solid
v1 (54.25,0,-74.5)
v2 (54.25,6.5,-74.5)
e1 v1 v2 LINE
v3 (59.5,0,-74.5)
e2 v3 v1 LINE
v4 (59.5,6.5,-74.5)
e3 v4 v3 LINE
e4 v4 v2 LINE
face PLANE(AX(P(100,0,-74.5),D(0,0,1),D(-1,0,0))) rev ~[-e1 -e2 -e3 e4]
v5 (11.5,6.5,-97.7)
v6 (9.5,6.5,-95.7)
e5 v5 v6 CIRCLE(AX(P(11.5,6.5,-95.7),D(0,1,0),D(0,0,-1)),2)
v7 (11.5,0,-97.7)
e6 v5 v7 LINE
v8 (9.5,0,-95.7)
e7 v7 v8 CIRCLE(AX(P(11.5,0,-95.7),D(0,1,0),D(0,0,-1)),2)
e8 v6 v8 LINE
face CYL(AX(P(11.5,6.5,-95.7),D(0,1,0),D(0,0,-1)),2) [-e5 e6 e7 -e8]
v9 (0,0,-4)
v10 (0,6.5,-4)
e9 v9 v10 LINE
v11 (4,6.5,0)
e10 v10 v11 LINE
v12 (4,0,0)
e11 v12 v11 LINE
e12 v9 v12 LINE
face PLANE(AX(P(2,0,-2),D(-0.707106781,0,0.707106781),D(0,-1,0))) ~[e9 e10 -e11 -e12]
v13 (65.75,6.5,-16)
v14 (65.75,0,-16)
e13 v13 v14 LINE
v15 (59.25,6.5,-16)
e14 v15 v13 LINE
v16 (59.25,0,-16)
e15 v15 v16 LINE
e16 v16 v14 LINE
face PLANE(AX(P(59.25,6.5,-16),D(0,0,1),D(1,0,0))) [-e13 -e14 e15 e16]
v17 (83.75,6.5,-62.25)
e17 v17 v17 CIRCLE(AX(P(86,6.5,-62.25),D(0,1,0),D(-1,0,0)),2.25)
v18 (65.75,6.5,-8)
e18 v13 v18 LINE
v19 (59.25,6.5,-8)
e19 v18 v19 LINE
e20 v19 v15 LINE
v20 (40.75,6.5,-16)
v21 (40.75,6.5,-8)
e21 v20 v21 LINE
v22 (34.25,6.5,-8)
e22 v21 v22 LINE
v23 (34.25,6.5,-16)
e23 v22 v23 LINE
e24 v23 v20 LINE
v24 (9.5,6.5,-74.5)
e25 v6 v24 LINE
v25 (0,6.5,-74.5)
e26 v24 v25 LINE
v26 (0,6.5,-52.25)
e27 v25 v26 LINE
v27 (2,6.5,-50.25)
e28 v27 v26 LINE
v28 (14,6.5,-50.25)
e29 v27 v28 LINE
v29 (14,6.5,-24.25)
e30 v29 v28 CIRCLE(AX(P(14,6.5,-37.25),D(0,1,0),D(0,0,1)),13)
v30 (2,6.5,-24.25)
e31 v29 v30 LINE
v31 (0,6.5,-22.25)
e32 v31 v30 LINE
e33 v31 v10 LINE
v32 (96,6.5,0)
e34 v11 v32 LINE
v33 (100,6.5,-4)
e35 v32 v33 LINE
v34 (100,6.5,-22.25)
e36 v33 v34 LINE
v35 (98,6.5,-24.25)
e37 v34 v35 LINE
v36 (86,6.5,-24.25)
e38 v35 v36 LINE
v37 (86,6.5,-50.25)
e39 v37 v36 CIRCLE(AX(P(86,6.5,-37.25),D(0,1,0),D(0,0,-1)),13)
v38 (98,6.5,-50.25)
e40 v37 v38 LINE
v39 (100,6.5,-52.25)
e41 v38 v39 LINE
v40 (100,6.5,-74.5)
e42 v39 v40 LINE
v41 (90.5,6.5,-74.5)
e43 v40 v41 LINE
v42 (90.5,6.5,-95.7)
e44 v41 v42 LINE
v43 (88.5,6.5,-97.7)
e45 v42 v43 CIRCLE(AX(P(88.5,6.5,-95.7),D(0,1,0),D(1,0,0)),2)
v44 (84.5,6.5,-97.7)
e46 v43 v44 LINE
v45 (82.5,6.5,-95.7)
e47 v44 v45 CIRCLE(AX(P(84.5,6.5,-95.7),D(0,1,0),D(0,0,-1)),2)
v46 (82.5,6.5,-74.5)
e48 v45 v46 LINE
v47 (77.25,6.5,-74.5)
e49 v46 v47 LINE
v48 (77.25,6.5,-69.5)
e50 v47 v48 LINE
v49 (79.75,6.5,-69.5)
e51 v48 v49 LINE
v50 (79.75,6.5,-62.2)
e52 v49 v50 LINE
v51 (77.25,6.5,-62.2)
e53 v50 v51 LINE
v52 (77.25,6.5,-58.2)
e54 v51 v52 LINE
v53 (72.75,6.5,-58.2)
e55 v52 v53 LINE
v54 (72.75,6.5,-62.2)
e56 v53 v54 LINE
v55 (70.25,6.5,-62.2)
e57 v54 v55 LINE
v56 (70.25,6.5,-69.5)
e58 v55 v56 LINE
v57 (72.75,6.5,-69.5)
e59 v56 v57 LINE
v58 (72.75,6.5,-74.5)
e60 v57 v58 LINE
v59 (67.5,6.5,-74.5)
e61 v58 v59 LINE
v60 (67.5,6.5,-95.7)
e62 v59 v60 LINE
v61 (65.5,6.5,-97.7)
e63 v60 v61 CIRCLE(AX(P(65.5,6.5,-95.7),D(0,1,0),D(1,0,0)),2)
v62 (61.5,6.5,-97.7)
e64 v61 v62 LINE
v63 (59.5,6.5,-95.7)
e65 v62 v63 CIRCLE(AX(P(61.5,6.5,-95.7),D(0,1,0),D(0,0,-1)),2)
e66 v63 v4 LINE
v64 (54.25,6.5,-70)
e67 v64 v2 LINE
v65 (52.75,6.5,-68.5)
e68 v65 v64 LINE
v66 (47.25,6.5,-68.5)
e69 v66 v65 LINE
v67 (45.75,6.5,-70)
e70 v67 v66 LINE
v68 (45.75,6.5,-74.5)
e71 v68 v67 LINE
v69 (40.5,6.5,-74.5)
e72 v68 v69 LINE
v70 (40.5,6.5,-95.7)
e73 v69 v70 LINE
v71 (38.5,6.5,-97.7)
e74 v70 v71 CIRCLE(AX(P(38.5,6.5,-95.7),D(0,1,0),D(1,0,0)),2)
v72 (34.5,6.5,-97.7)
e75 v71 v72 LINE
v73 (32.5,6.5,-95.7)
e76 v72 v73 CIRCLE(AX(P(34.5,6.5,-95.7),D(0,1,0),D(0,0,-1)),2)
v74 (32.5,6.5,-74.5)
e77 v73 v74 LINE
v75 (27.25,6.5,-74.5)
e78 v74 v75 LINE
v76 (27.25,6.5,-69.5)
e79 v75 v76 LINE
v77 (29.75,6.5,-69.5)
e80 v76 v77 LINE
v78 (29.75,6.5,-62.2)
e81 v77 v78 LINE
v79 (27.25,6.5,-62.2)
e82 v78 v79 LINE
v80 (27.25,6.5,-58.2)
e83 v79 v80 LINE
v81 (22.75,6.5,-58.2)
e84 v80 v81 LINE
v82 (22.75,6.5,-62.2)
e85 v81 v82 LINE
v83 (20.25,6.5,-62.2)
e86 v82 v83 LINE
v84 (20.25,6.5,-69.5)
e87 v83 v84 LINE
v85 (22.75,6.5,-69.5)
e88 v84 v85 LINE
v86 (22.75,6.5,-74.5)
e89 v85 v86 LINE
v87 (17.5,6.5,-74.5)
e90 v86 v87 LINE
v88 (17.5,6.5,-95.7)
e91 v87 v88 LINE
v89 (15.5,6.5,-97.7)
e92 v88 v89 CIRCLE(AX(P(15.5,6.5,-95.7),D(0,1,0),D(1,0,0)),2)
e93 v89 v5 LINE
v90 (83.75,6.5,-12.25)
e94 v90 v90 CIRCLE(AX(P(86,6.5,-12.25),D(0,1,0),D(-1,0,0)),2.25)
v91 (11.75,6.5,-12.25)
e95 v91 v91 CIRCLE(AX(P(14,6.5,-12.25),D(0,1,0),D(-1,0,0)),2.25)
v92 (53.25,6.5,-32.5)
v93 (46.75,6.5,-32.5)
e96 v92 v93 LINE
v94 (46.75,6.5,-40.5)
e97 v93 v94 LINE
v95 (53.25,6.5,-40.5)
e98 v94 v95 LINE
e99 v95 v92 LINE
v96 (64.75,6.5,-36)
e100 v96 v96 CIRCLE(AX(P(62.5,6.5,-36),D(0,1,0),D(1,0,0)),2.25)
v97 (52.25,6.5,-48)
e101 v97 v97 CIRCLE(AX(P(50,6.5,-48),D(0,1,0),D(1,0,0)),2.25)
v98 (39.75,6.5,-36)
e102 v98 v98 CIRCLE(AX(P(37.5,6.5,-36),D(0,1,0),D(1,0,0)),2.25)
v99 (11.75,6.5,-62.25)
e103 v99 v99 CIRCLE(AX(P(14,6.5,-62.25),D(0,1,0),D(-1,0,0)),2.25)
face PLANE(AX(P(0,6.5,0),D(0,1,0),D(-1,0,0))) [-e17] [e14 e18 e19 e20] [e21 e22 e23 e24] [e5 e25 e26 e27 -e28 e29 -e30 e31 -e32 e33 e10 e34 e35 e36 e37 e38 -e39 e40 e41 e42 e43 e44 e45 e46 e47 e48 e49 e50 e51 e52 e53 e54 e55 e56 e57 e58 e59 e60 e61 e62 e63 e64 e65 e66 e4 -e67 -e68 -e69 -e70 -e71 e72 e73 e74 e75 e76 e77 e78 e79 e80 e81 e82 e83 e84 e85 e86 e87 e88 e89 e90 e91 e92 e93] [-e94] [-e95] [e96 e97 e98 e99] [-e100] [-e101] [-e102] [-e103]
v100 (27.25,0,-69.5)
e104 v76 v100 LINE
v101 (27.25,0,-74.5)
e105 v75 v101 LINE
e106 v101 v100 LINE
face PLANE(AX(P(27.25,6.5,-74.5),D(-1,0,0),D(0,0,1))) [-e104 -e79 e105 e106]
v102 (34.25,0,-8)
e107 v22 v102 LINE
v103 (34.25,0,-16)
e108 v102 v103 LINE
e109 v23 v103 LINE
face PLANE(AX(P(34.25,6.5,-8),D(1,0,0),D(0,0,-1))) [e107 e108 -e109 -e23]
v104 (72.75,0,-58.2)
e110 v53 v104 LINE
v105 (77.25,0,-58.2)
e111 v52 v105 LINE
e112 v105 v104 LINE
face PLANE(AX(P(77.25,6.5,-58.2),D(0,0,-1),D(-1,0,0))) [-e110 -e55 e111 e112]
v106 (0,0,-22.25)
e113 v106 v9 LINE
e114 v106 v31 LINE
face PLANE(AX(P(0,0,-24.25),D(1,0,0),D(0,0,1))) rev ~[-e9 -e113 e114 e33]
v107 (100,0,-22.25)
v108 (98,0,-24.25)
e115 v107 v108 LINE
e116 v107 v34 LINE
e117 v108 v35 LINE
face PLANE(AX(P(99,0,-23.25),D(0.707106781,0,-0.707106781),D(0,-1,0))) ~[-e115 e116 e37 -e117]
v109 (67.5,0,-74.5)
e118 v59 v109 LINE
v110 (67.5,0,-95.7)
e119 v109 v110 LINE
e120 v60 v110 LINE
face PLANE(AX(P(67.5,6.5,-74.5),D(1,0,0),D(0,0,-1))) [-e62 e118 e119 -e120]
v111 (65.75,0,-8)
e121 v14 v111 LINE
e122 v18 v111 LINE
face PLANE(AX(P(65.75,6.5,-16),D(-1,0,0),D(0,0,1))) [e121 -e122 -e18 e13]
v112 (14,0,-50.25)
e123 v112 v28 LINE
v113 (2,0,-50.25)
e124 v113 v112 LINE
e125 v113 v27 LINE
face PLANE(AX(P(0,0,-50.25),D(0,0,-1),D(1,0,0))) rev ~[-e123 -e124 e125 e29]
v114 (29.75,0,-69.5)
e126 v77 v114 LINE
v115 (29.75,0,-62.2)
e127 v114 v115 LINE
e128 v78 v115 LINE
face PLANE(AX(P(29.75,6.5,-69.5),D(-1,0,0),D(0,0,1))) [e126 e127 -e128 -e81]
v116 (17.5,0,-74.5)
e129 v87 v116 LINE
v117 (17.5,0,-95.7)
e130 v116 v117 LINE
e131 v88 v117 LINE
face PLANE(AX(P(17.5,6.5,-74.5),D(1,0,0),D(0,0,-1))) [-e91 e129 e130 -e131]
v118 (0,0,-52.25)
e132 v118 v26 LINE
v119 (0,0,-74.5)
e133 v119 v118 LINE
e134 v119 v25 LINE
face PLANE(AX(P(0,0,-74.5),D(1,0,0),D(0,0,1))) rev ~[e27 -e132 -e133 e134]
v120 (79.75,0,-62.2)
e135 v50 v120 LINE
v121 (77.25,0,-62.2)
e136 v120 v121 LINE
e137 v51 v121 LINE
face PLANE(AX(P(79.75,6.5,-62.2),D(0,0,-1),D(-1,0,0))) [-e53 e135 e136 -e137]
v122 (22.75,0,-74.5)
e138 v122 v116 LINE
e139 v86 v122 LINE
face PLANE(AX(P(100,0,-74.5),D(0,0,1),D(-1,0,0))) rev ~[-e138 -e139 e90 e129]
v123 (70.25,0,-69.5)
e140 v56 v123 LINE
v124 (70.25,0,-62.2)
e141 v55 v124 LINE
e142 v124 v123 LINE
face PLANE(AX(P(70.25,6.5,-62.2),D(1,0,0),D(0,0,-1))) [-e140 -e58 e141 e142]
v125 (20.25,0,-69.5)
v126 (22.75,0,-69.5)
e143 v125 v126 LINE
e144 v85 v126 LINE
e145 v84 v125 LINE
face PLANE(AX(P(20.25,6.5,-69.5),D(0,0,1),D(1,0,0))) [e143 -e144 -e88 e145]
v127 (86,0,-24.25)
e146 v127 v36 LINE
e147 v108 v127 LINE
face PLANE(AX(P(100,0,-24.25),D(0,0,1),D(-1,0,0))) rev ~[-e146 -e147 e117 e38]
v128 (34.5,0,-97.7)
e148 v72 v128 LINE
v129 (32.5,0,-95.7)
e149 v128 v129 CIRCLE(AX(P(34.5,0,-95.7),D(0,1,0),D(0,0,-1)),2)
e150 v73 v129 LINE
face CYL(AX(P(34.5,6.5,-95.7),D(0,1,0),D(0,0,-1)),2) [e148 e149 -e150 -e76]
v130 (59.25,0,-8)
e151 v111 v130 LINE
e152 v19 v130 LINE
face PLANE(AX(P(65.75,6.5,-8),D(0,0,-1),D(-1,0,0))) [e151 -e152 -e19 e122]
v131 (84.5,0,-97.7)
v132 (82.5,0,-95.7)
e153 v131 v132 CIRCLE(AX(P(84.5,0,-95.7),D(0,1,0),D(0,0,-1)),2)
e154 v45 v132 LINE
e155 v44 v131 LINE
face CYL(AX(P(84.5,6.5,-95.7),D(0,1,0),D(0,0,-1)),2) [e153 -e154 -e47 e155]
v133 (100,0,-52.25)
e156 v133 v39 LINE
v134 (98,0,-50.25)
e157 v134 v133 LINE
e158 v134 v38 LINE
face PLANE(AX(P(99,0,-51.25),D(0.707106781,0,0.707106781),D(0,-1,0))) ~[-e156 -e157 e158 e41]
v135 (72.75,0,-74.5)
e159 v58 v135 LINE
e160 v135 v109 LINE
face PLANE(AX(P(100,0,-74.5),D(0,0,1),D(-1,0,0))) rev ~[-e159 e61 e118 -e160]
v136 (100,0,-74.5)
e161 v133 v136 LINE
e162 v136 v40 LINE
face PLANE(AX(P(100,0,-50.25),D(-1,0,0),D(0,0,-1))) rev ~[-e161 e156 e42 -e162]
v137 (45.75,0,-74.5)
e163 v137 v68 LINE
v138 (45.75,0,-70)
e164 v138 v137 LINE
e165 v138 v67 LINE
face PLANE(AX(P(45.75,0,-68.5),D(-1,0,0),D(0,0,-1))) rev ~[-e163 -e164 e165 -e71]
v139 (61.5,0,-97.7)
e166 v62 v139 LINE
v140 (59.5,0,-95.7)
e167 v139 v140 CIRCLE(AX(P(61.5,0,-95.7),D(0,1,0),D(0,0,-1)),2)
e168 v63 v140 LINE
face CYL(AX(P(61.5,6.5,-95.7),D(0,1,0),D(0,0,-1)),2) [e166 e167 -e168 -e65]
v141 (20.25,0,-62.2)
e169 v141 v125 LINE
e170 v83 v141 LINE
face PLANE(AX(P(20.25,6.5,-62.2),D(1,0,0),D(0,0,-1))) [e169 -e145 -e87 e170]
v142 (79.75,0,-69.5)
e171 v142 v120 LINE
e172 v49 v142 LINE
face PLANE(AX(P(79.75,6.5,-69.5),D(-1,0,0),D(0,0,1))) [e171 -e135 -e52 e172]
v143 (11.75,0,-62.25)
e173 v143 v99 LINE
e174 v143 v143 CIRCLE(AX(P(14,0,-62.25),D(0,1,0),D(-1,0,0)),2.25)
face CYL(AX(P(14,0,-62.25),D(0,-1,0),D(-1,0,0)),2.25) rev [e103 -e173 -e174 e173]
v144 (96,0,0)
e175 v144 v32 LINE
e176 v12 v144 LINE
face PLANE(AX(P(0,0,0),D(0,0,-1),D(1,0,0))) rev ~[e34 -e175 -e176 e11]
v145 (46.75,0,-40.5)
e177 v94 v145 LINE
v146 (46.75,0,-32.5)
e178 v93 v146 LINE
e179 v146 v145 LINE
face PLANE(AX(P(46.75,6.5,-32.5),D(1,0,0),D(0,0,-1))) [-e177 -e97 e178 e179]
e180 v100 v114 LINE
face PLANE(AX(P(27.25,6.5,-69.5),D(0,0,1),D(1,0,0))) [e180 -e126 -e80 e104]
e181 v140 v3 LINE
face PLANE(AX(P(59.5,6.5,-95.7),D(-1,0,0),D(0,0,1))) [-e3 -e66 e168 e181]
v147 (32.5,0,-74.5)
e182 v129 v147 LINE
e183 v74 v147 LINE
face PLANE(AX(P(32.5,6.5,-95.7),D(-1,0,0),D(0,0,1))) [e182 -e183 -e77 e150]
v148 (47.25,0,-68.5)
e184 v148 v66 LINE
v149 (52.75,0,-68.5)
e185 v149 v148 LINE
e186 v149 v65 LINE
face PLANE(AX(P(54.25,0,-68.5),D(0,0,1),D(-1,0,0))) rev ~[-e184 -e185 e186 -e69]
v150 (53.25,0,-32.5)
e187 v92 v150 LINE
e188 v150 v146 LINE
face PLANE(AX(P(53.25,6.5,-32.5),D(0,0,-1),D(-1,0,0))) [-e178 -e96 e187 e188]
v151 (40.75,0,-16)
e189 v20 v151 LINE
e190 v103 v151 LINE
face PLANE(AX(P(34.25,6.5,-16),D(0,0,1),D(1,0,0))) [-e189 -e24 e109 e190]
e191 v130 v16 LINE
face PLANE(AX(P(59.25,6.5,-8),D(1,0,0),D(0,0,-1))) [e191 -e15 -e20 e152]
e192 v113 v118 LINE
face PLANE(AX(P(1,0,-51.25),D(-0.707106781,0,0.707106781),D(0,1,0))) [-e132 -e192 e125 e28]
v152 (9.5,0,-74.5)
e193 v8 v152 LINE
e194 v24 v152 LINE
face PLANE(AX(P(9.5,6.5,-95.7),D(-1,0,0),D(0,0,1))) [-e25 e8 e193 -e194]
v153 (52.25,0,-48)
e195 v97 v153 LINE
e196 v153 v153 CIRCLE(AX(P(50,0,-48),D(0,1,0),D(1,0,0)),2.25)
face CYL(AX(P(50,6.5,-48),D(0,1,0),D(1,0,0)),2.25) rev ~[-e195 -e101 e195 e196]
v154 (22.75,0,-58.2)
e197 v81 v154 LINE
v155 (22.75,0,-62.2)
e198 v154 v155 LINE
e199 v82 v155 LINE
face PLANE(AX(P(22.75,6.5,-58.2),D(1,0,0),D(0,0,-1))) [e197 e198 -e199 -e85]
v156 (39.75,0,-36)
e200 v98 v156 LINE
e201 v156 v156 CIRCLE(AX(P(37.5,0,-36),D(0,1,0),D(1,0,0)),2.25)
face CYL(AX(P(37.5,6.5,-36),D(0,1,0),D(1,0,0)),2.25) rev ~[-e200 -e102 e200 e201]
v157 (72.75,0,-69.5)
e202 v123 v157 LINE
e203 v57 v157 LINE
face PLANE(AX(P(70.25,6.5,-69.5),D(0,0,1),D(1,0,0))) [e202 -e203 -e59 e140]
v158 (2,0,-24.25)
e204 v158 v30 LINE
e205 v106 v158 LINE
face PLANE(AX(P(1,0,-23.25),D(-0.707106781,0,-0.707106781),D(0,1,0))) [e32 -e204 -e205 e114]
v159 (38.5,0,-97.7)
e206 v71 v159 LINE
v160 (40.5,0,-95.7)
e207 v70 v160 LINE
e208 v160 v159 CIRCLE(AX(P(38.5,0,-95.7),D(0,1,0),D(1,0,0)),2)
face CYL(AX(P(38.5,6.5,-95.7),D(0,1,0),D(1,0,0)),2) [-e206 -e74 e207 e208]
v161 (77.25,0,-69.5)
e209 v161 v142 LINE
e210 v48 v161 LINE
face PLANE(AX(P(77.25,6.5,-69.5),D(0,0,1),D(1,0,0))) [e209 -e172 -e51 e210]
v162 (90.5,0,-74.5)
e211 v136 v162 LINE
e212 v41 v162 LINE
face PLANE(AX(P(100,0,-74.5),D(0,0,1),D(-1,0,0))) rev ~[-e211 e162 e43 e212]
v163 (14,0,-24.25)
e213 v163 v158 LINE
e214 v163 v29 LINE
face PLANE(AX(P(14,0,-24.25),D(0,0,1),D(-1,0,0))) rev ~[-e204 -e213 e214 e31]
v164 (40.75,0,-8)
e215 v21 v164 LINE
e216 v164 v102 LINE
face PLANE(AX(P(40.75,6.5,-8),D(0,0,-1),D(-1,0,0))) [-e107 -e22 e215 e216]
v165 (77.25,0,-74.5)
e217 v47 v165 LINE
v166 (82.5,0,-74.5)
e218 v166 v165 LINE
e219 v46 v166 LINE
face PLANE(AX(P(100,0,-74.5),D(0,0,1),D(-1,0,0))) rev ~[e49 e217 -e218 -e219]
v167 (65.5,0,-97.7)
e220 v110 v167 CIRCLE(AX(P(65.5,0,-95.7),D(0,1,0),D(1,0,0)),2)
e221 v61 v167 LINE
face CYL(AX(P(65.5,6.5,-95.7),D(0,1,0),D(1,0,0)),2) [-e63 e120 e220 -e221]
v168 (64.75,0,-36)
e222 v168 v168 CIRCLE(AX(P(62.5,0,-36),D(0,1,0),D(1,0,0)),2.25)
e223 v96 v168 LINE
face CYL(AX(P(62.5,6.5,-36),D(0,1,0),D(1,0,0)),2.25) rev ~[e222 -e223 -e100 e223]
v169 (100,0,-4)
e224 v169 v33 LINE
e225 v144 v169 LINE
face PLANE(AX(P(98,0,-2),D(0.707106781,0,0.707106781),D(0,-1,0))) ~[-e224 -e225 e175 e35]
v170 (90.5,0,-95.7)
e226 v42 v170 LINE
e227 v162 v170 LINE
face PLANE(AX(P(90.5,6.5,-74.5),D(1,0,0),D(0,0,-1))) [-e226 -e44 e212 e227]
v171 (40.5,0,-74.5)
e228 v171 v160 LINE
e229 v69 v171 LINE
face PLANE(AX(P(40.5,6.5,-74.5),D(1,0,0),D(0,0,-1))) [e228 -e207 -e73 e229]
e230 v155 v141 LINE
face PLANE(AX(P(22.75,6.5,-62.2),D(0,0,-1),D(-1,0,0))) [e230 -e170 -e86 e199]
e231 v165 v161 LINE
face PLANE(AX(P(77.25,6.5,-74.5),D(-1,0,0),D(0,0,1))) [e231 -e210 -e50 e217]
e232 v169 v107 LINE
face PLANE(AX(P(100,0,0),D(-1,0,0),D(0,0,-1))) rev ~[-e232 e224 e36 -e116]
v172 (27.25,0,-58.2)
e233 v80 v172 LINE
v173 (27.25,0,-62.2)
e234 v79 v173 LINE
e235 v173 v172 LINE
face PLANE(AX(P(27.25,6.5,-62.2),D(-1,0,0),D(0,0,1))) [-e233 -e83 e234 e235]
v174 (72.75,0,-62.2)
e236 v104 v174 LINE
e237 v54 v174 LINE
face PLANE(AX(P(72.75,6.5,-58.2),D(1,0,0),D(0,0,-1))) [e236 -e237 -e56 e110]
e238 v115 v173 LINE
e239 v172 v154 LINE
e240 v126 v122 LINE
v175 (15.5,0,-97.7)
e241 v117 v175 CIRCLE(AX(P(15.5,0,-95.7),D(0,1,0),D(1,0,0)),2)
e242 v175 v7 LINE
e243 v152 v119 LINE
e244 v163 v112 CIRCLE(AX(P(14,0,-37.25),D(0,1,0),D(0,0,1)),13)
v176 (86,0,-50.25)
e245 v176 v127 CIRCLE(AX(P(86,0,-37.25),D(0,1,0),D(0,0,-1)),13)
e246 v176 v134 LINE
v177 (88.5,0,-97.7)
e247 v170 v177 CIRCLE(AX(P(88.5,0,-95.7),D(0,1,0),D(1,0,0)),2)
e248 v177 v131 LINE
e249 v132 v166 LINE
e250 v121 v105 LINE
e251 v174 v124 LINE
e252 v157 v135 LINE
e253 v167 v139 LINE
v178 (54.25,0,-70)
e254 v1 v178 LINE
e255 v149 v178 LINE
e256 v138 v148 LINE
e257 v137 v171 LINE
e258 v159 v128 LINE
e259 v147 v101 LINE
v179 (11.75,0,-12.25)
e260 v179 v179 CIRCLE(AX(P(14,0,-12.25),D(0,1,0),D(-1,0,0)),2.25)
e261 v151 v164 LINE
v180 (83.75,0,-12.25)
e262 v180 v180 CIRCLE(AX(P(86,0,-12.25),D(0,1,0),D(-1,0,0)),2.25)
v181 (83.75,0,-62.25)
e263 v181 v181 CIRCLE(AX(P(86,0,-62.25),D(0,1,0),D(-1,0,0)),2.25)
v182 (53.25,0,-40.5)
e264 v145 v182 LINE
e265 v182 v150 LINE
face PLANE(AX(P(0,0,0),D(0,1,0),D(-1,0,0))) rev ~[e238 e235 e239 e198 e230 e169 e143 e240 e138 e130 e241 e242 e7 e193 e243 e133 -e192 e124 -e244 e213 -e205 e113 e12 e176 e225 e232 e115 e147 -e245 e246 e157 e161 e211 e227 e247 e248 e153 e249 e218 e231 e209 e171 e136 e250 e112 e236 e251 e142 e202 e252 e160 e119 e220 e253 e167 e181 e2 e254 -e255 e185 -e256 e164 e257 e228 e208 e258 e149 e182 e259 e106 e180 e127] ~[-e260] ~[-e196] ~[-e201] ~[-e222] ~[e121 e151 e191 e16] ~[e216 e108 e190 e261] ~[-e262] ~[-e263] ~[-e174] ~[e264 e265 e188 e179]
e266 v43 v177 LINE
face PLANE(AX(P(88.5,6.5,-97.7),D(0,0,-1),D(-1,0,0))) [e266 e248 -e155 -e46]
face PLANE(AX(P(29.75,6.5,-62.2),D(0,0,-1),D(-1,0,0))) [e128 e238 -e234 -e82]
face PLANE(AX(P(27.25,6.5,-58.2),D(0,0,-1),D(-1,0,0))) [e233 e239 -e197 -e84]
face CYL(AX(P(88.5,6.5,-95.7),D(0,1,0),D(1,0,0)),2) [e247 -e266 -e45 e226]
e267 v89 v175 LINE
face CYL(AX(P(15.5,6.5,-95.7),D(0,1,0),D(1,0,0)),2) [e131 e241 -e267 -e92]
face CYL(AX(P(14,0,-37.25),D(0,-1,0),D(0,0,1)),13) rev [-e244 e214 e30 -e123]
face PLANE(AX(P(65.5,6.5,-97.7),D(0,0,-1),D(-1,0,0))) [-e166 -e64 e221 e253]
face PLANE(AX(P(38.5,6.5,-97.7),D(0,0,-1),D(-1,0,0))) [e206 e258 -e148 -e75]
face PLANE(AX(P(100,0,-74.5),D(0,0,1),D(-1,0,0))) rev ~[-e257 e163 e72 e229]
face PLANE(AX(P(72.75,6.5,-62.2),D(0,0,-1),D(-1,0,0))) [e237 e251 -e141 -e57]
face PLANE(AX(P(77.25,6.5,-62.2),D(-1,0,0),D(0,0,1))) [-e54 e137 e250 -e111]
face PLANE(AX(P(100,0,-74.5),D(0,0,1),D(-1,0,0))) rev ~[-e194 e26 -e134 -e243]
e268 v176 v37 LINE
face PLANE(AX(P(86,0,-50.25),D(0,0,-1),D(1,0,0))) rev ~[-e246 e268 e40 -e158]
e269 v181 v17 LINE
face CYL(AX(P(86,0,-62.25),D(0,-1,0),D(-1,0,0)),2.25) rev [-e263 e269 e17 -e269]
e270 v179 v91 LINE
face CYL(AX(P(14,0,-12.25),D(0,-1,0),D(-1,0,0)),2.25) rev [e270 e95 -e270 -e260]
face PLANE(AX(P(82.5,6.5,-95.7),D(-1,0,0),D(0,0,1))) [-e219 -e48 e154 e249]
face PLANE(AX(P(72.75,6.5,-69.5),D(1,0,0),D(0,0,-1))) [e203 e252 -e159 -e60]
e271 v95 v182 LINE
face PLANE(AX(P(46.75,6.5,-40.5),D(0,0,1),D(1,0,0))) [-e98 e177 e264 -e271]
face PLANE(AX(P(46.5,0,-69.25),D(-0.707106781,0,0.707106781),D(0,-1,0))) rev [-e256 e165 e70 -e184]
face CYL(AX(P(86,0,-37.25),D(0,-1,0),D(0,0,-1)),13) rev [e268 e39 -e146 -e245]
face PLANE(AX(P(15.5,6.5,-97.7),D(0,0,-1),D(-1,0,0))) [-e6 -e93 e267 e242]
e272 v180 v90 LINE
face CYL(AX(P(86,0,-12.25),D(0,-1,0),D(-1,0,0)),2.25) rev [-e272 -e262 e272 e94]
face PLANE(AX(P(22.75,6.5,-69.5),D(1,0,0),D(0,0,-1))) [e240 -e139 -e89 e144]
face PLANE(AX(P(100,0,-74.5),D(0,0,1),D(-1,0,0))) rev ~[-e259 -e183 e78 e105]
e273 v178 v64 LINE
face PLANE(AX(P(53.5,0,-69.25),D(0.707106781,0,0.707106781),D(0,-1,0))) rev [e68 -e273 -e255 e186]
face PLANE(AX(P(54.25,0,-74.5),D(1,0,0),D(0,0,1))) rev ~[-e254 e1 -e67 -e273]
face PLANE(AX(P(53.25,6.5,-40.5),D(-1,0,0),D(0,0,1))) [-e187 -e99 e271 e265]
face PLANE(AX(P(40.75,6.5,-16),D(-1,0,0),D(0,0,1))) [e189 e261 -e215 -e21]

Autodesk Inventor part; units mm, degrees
ref_plane "YZ Plane" through (0, 0, 0) normal (1, 0, 0) x (0, 1, 0)
ref_plane "XZ Plane" through (0, 0, 0) normal (0, 1, 0) x (-1, 0, 0)
ref_plane "XY Plane" through (0, 0, 0) normal (0, 0, 1) x (1, 0, 0)
sketch "Sketch1" plane through (0, 0, 0) normal (0, 1, 0) x (-1, 0, 0)
  line L0 (0, 0) -> (-100, 0)
  line L1 (-100, 0) -> (-100, -24.25)
  line L2 (-100, -24.25) -> (-86, -24.25)
  arc A0 (-86, -50.25) -> (-86, -24.25) centre (-86, -37.25) ccw
  line L3 (-86, -50.25) -> (-100, -50.25)
  line L4 (-100, -50.25) -> (-100, -74.5)
  line L5 (-100, -74.5) -> (0, -74.5)
  line L6 (0, -74.5) -> (0, -50.25)
  line L7 (0, -50.25) -> (-14, -50.25)
  arc A1 (-14, -24.25) -> (-14, -50.25) centre (-14, -37.25) ccw
  line L8 (-14, -24.25) -> (0, -24.25)
  line L9 (0, -24.25) -> (0, 0)
  circle A2 centre (-14, -62.25) radius 2.25
  circle A3 centre (-14, -12.25) radius 2.25
  circle A4 centre (-86, -62.25) radius 2.25
  circle A5 centre (-86, -12.25) radius 2.25
  dimension "d0" = 13
  dimension "d1" = 50
  dimension "d2" = 4.5
  dimension "d3" = 25
  dimension "d5" = 12.25
  dimension "d6" = 100
  dimension "d10" = 14
extrude "Extrusion1" add sketch "Sketch1" along normal blind 6.5
sketch "Sketch3" plane through (0, 6.5, 0) normal (0, 1, 0) x (1, 0, 0)
  line L0 (100, 74.5) -> (0, 74.5) projected
  line L1 (22.75, 74.5) -> (27.25, 74.5)
  line L2 (27.25, 58.2) -> (22.75, 58.2)
  line L3 (29.75, 69.5) -> (29.75, 62.2)
  line L4 (20.25, 62.2) -> (20.25, 69.5)
  line L5 (27.25, 74.5) -> (27.25, 69.5)
  line L6 (27.25, 62.2) -> (27.25, 58.2)
  line L7 (22.75, 58.2) -> (22.75, 62.2)
  line L8 (22.75, 69.5) -> (22.75, 74.5)
  line L9 (20.25, 69.5) -> (22.75, 69.5)
  line L10 (27.25, 69.5) -> (29.75, 69.5)
  line L11 (29.75, 62.2) -> (27.25, 62.2)
  line L12 (22.75, 62.2) -> (20.25, 62.2)
  line L13 (72.75, 74.5) -> (77.25, 74.5)
  line L14 (77.25, 58.2) -> (72.75, 58.2)
  line L15 (79.75, 69.5) -> (79.75, 62.2)
  line L16 (70.25, 62.2) -> (70.25, 69.5)
  line L17 (77.25, 74.5) -> (77.25, 69.5)
  line L18 (77.25, 62.2) -> (77.25, 58.2)
  line L19 (72.75, 58.2) -> (72.75, 62.2)
  line L20 (72.75, 69.5) -> (72.75, 74.5)
  line L21 (70.25, 69.5) -> (72.75, 69.5)
  line L22 (77.25, 69.5) -> (79.75, 69.5)
  line L23 (79.75, 62.2) -> (77.25, 62.2)
  line L24 (72.75, 62.2) -> (70.25, 62.2)
  line L25 (29.75, 65.85) -> (70.25, 65.85) construction
  point P0 (25, 58.2)
  point P1 (75, 58.2)
  point P2 (50, 65.85)
  point P3 (50, 74.5)
  dimension "d15" = 4.5
  dimension "d16" = 2.5
  dimension "d17" = 4
  dimension "d18" = 5
  dimension "d19" = 7.3
  dimension "d20" = 4.5
  dimension "d21" = 2.5
  dimension "d22" = 4
  dimension "d23" = 5
  dimension "d24" = 7.3
  dimension "d25" = 50
extrude "Extrusion2" cut sketch "Sketch3" against normal through all
sketch "Sketch4" plane through (0, 6.5, 0) normal (0, 1, 0) x (1, 0, 0)
  line L0 (22.75, 74.5) -> (0, 74.5) projected
  line L1 (100, 74.5) -> (77.25, 74.5) projected
  line L2 (77.25, 58.2) -> (72.75, 58.2) projected
  line L3 (72.75, 74.5) -> (27.25, 74.5) projected
  line L4 (27.25, 58.2) -> (22.75, 58.2) projected
  line L5 (9.5, 74.5) -> (17.5, 74.5)
  line L6 (17.5, 74.5) -> (17.5, 95.7)
  line L7 (15.5, 97.7) -> (11.5, 97.7)
  line L8 (9.5, 95.7) -> (9.5, 74.5)
  line L9 (32.5, 74.5) -> (40.5, 74.5)
  line L10 (40.5, 74.5) -> (40.5, 95.7)
  line L11 (38.5, 97.7) -> (34.5, 97.7)
  line L12 (32.5, 95.7) -> (32.5, 74.5)
  line L13 (59.5, 74.5) -> (67.5, 74.5)
  line L14 (67.5, 74.5) -> (67.5, 95.7)
  line L15 (65.5, 97.7) -> (61.5, 97.7)
  line L16 (59.5, 95.7) -> (59.5, 74.5)
  line L17 (82.5, 74.5) -> (90.5, 74.5)
  line L18 (90.5, 74.5) -> (90.5, 95.7)
  line L19 (88.5, 97.7) -> (84.5, 97.7)
  line L20 (82.5, 95.7) -> (82.5, 74.5)
  arc A0 (11.5, 97.7) -> (9.5, 95.7) centre (11.5, 95.7) ccw
  arc A1 (17.5, 95.7) -> (15.5, 97.7) centre (15.5, 95.7) ccw
  arc A2 (34.5, 97.7) -> (32.5, 95.7) centre (34.5, 95.7) ccw
  arc A3 (40.5, 95.7) -> (38.5, 97.7) centre (38.5, 95.7) ccw
  arc A4 (61.5, 97.7) -> (59.5, 95.7) centre (61.5, 95.7) ccw
  arc A5 (67.5, 95.7) -> (65.5, 97.7) centre (65.5, 95.7) ccw
  arc A6 (84.5, 97.7) -> (82.5, 95.7) centre (84.5, 95.7) ccw
  arc A7 (90.5, 95.7) -> (88.5, 97.7) centre (88.5, 95.7) ccw
  point P0 (25, 58.2)
  point P1 (75, 58.2)
  dimension "d28" = 2
  dimension "d29" = 23.2
  dimension "d30" = 8
  dimension "d31" = 8
  dimension "d32" = 8
  dimension "d33" = 8
  dimension "d34" = 15
  dimension "d35" = 15
  dimension "d36" = 7.5
  dimension "d37" = 7.5
extrude "Extrusion3" add sketch "Sketch4" against normal blind 6.5
chamfer "Chamfer1" distance 4 angle 45 2 edges at (100, 3.25, 0) (0, 3.25, 0)
chamfer "Chamfer2" distance 2 angle 45 4 edges at (100, 3.25, -24.25) (100, 3.25, -50.25) (0, 3.25, -50.25) (0, 3.25, -24.25)
sketch "Sketch5" plane through (0, 6.5, 0) normal (0, 1, 0) x (1, 0, 0)
  line L0 (4, 0) -> (96, 0) projected
  line L1 (34.25, 16) -> (40.75, 16)
  line L2 (40.75, 16) -> (40.75, 8)
  line L3 (40.75, 8) -> (34.25, 8)
  line L4 (34.25, 8) -> (34.25, 16)
  line L5 (59.25, 16) -> (65.75, 16)
  line L6 (65.75, 16) -> (65.75, 8)
  line L7 (65.75, 8) -> (59.25, 8)
  line L8 (59.25, 8) -> (59.25, 16)
  circle A0 centre (37.5, 36) radius 2.25
  circle A1 centre (62.5, 36) radius 2.25
  line L9 (37.5, 36) -> (62.5, 36) construction
  point P0 (0, 0)
  point P1 (37.5, 16)
  point P2 (62.5, 16)
  point P3 (50, 36)
  point P4 (50, 0)
  dimension "d46" = 4.5
  dimension "d47" = 6.5
  dimension "d48" = 8
  dimension "d49" = 25
  dimension "d50" = 8
  dimension "d51" = 20
extrude "Extrusion4" cut sketch "Sketch5" against normal through all
sketch "Sketch6" plane through (0, 6.5, 0) normal (0, 1, 0) x (1, 0, 0)
  line L0 (59.5, 74.5) -> (40.5, 74.5) projected
  line L1 (46.75, 40.5) -> (53.25, 40.5)
  line L2 (53.25, 40.5) -> (53.25, 32.5)
  line L3 (53.25, 32.5) -> (46.75, 32.5)
  line L4 (46.75, 32.5) -> (46.75, 40.5)
  circle A0 centre (50, 48) radius 2.25
  point P0 (0, 0)
  point P1 (50, 74.5)
  point P2 (50, 40.5)
  dimension "d54" = 6.5
  dimension "d55" = 8
  dimension "d56" = 4.5
  dimension "d57" = 7.5
  dimension "d58" = 34
extrude "Extrusion5" cut sketch "Sketch6" against normal through all
sketch "Sketch7" plane through (0, 0, 0) normal (0, -1, 0) x (1, 0, 0)
  line L0 (59.5, -74.5) -> (40.5, -74.5) projected
  line L1 (45.75, -74.5) -> (54.25, -74.5)
  line L2 (54.25, -74.5) -> (54.25, -68.5)
  line L3 (54.25, -68.5) -> (45.75, -68.5)
  line L4 (45.75, -68.5) -> (45.75, -74.5)
  point P0 (0, 0)
  point P1 (50, -68.5)
  point P2 (50, -74.5)
  dimension "d61" = 8.5
  dimension "d62" = 6
extrude "Extrusion6" cut sketch "Sketch7" against normal through all
chamfer "Chamfer3" distance 1.5 angle 45 2 edges at (54.25, 3.25, -68.5) (45.75, 3.25, -68.5)
equation "\"d3\" = 0.5 * d1"
equation "\"d31\" = d30"
equation "\"d32\" = d31"
equation "\"d33\" = d32"
equation "\"d36\" = 0.5 * d34"
equation "\"d37\" = 0.5 * d35"
properties part number "x_carryage_extruder_mount" material "Plywood, Finish"
